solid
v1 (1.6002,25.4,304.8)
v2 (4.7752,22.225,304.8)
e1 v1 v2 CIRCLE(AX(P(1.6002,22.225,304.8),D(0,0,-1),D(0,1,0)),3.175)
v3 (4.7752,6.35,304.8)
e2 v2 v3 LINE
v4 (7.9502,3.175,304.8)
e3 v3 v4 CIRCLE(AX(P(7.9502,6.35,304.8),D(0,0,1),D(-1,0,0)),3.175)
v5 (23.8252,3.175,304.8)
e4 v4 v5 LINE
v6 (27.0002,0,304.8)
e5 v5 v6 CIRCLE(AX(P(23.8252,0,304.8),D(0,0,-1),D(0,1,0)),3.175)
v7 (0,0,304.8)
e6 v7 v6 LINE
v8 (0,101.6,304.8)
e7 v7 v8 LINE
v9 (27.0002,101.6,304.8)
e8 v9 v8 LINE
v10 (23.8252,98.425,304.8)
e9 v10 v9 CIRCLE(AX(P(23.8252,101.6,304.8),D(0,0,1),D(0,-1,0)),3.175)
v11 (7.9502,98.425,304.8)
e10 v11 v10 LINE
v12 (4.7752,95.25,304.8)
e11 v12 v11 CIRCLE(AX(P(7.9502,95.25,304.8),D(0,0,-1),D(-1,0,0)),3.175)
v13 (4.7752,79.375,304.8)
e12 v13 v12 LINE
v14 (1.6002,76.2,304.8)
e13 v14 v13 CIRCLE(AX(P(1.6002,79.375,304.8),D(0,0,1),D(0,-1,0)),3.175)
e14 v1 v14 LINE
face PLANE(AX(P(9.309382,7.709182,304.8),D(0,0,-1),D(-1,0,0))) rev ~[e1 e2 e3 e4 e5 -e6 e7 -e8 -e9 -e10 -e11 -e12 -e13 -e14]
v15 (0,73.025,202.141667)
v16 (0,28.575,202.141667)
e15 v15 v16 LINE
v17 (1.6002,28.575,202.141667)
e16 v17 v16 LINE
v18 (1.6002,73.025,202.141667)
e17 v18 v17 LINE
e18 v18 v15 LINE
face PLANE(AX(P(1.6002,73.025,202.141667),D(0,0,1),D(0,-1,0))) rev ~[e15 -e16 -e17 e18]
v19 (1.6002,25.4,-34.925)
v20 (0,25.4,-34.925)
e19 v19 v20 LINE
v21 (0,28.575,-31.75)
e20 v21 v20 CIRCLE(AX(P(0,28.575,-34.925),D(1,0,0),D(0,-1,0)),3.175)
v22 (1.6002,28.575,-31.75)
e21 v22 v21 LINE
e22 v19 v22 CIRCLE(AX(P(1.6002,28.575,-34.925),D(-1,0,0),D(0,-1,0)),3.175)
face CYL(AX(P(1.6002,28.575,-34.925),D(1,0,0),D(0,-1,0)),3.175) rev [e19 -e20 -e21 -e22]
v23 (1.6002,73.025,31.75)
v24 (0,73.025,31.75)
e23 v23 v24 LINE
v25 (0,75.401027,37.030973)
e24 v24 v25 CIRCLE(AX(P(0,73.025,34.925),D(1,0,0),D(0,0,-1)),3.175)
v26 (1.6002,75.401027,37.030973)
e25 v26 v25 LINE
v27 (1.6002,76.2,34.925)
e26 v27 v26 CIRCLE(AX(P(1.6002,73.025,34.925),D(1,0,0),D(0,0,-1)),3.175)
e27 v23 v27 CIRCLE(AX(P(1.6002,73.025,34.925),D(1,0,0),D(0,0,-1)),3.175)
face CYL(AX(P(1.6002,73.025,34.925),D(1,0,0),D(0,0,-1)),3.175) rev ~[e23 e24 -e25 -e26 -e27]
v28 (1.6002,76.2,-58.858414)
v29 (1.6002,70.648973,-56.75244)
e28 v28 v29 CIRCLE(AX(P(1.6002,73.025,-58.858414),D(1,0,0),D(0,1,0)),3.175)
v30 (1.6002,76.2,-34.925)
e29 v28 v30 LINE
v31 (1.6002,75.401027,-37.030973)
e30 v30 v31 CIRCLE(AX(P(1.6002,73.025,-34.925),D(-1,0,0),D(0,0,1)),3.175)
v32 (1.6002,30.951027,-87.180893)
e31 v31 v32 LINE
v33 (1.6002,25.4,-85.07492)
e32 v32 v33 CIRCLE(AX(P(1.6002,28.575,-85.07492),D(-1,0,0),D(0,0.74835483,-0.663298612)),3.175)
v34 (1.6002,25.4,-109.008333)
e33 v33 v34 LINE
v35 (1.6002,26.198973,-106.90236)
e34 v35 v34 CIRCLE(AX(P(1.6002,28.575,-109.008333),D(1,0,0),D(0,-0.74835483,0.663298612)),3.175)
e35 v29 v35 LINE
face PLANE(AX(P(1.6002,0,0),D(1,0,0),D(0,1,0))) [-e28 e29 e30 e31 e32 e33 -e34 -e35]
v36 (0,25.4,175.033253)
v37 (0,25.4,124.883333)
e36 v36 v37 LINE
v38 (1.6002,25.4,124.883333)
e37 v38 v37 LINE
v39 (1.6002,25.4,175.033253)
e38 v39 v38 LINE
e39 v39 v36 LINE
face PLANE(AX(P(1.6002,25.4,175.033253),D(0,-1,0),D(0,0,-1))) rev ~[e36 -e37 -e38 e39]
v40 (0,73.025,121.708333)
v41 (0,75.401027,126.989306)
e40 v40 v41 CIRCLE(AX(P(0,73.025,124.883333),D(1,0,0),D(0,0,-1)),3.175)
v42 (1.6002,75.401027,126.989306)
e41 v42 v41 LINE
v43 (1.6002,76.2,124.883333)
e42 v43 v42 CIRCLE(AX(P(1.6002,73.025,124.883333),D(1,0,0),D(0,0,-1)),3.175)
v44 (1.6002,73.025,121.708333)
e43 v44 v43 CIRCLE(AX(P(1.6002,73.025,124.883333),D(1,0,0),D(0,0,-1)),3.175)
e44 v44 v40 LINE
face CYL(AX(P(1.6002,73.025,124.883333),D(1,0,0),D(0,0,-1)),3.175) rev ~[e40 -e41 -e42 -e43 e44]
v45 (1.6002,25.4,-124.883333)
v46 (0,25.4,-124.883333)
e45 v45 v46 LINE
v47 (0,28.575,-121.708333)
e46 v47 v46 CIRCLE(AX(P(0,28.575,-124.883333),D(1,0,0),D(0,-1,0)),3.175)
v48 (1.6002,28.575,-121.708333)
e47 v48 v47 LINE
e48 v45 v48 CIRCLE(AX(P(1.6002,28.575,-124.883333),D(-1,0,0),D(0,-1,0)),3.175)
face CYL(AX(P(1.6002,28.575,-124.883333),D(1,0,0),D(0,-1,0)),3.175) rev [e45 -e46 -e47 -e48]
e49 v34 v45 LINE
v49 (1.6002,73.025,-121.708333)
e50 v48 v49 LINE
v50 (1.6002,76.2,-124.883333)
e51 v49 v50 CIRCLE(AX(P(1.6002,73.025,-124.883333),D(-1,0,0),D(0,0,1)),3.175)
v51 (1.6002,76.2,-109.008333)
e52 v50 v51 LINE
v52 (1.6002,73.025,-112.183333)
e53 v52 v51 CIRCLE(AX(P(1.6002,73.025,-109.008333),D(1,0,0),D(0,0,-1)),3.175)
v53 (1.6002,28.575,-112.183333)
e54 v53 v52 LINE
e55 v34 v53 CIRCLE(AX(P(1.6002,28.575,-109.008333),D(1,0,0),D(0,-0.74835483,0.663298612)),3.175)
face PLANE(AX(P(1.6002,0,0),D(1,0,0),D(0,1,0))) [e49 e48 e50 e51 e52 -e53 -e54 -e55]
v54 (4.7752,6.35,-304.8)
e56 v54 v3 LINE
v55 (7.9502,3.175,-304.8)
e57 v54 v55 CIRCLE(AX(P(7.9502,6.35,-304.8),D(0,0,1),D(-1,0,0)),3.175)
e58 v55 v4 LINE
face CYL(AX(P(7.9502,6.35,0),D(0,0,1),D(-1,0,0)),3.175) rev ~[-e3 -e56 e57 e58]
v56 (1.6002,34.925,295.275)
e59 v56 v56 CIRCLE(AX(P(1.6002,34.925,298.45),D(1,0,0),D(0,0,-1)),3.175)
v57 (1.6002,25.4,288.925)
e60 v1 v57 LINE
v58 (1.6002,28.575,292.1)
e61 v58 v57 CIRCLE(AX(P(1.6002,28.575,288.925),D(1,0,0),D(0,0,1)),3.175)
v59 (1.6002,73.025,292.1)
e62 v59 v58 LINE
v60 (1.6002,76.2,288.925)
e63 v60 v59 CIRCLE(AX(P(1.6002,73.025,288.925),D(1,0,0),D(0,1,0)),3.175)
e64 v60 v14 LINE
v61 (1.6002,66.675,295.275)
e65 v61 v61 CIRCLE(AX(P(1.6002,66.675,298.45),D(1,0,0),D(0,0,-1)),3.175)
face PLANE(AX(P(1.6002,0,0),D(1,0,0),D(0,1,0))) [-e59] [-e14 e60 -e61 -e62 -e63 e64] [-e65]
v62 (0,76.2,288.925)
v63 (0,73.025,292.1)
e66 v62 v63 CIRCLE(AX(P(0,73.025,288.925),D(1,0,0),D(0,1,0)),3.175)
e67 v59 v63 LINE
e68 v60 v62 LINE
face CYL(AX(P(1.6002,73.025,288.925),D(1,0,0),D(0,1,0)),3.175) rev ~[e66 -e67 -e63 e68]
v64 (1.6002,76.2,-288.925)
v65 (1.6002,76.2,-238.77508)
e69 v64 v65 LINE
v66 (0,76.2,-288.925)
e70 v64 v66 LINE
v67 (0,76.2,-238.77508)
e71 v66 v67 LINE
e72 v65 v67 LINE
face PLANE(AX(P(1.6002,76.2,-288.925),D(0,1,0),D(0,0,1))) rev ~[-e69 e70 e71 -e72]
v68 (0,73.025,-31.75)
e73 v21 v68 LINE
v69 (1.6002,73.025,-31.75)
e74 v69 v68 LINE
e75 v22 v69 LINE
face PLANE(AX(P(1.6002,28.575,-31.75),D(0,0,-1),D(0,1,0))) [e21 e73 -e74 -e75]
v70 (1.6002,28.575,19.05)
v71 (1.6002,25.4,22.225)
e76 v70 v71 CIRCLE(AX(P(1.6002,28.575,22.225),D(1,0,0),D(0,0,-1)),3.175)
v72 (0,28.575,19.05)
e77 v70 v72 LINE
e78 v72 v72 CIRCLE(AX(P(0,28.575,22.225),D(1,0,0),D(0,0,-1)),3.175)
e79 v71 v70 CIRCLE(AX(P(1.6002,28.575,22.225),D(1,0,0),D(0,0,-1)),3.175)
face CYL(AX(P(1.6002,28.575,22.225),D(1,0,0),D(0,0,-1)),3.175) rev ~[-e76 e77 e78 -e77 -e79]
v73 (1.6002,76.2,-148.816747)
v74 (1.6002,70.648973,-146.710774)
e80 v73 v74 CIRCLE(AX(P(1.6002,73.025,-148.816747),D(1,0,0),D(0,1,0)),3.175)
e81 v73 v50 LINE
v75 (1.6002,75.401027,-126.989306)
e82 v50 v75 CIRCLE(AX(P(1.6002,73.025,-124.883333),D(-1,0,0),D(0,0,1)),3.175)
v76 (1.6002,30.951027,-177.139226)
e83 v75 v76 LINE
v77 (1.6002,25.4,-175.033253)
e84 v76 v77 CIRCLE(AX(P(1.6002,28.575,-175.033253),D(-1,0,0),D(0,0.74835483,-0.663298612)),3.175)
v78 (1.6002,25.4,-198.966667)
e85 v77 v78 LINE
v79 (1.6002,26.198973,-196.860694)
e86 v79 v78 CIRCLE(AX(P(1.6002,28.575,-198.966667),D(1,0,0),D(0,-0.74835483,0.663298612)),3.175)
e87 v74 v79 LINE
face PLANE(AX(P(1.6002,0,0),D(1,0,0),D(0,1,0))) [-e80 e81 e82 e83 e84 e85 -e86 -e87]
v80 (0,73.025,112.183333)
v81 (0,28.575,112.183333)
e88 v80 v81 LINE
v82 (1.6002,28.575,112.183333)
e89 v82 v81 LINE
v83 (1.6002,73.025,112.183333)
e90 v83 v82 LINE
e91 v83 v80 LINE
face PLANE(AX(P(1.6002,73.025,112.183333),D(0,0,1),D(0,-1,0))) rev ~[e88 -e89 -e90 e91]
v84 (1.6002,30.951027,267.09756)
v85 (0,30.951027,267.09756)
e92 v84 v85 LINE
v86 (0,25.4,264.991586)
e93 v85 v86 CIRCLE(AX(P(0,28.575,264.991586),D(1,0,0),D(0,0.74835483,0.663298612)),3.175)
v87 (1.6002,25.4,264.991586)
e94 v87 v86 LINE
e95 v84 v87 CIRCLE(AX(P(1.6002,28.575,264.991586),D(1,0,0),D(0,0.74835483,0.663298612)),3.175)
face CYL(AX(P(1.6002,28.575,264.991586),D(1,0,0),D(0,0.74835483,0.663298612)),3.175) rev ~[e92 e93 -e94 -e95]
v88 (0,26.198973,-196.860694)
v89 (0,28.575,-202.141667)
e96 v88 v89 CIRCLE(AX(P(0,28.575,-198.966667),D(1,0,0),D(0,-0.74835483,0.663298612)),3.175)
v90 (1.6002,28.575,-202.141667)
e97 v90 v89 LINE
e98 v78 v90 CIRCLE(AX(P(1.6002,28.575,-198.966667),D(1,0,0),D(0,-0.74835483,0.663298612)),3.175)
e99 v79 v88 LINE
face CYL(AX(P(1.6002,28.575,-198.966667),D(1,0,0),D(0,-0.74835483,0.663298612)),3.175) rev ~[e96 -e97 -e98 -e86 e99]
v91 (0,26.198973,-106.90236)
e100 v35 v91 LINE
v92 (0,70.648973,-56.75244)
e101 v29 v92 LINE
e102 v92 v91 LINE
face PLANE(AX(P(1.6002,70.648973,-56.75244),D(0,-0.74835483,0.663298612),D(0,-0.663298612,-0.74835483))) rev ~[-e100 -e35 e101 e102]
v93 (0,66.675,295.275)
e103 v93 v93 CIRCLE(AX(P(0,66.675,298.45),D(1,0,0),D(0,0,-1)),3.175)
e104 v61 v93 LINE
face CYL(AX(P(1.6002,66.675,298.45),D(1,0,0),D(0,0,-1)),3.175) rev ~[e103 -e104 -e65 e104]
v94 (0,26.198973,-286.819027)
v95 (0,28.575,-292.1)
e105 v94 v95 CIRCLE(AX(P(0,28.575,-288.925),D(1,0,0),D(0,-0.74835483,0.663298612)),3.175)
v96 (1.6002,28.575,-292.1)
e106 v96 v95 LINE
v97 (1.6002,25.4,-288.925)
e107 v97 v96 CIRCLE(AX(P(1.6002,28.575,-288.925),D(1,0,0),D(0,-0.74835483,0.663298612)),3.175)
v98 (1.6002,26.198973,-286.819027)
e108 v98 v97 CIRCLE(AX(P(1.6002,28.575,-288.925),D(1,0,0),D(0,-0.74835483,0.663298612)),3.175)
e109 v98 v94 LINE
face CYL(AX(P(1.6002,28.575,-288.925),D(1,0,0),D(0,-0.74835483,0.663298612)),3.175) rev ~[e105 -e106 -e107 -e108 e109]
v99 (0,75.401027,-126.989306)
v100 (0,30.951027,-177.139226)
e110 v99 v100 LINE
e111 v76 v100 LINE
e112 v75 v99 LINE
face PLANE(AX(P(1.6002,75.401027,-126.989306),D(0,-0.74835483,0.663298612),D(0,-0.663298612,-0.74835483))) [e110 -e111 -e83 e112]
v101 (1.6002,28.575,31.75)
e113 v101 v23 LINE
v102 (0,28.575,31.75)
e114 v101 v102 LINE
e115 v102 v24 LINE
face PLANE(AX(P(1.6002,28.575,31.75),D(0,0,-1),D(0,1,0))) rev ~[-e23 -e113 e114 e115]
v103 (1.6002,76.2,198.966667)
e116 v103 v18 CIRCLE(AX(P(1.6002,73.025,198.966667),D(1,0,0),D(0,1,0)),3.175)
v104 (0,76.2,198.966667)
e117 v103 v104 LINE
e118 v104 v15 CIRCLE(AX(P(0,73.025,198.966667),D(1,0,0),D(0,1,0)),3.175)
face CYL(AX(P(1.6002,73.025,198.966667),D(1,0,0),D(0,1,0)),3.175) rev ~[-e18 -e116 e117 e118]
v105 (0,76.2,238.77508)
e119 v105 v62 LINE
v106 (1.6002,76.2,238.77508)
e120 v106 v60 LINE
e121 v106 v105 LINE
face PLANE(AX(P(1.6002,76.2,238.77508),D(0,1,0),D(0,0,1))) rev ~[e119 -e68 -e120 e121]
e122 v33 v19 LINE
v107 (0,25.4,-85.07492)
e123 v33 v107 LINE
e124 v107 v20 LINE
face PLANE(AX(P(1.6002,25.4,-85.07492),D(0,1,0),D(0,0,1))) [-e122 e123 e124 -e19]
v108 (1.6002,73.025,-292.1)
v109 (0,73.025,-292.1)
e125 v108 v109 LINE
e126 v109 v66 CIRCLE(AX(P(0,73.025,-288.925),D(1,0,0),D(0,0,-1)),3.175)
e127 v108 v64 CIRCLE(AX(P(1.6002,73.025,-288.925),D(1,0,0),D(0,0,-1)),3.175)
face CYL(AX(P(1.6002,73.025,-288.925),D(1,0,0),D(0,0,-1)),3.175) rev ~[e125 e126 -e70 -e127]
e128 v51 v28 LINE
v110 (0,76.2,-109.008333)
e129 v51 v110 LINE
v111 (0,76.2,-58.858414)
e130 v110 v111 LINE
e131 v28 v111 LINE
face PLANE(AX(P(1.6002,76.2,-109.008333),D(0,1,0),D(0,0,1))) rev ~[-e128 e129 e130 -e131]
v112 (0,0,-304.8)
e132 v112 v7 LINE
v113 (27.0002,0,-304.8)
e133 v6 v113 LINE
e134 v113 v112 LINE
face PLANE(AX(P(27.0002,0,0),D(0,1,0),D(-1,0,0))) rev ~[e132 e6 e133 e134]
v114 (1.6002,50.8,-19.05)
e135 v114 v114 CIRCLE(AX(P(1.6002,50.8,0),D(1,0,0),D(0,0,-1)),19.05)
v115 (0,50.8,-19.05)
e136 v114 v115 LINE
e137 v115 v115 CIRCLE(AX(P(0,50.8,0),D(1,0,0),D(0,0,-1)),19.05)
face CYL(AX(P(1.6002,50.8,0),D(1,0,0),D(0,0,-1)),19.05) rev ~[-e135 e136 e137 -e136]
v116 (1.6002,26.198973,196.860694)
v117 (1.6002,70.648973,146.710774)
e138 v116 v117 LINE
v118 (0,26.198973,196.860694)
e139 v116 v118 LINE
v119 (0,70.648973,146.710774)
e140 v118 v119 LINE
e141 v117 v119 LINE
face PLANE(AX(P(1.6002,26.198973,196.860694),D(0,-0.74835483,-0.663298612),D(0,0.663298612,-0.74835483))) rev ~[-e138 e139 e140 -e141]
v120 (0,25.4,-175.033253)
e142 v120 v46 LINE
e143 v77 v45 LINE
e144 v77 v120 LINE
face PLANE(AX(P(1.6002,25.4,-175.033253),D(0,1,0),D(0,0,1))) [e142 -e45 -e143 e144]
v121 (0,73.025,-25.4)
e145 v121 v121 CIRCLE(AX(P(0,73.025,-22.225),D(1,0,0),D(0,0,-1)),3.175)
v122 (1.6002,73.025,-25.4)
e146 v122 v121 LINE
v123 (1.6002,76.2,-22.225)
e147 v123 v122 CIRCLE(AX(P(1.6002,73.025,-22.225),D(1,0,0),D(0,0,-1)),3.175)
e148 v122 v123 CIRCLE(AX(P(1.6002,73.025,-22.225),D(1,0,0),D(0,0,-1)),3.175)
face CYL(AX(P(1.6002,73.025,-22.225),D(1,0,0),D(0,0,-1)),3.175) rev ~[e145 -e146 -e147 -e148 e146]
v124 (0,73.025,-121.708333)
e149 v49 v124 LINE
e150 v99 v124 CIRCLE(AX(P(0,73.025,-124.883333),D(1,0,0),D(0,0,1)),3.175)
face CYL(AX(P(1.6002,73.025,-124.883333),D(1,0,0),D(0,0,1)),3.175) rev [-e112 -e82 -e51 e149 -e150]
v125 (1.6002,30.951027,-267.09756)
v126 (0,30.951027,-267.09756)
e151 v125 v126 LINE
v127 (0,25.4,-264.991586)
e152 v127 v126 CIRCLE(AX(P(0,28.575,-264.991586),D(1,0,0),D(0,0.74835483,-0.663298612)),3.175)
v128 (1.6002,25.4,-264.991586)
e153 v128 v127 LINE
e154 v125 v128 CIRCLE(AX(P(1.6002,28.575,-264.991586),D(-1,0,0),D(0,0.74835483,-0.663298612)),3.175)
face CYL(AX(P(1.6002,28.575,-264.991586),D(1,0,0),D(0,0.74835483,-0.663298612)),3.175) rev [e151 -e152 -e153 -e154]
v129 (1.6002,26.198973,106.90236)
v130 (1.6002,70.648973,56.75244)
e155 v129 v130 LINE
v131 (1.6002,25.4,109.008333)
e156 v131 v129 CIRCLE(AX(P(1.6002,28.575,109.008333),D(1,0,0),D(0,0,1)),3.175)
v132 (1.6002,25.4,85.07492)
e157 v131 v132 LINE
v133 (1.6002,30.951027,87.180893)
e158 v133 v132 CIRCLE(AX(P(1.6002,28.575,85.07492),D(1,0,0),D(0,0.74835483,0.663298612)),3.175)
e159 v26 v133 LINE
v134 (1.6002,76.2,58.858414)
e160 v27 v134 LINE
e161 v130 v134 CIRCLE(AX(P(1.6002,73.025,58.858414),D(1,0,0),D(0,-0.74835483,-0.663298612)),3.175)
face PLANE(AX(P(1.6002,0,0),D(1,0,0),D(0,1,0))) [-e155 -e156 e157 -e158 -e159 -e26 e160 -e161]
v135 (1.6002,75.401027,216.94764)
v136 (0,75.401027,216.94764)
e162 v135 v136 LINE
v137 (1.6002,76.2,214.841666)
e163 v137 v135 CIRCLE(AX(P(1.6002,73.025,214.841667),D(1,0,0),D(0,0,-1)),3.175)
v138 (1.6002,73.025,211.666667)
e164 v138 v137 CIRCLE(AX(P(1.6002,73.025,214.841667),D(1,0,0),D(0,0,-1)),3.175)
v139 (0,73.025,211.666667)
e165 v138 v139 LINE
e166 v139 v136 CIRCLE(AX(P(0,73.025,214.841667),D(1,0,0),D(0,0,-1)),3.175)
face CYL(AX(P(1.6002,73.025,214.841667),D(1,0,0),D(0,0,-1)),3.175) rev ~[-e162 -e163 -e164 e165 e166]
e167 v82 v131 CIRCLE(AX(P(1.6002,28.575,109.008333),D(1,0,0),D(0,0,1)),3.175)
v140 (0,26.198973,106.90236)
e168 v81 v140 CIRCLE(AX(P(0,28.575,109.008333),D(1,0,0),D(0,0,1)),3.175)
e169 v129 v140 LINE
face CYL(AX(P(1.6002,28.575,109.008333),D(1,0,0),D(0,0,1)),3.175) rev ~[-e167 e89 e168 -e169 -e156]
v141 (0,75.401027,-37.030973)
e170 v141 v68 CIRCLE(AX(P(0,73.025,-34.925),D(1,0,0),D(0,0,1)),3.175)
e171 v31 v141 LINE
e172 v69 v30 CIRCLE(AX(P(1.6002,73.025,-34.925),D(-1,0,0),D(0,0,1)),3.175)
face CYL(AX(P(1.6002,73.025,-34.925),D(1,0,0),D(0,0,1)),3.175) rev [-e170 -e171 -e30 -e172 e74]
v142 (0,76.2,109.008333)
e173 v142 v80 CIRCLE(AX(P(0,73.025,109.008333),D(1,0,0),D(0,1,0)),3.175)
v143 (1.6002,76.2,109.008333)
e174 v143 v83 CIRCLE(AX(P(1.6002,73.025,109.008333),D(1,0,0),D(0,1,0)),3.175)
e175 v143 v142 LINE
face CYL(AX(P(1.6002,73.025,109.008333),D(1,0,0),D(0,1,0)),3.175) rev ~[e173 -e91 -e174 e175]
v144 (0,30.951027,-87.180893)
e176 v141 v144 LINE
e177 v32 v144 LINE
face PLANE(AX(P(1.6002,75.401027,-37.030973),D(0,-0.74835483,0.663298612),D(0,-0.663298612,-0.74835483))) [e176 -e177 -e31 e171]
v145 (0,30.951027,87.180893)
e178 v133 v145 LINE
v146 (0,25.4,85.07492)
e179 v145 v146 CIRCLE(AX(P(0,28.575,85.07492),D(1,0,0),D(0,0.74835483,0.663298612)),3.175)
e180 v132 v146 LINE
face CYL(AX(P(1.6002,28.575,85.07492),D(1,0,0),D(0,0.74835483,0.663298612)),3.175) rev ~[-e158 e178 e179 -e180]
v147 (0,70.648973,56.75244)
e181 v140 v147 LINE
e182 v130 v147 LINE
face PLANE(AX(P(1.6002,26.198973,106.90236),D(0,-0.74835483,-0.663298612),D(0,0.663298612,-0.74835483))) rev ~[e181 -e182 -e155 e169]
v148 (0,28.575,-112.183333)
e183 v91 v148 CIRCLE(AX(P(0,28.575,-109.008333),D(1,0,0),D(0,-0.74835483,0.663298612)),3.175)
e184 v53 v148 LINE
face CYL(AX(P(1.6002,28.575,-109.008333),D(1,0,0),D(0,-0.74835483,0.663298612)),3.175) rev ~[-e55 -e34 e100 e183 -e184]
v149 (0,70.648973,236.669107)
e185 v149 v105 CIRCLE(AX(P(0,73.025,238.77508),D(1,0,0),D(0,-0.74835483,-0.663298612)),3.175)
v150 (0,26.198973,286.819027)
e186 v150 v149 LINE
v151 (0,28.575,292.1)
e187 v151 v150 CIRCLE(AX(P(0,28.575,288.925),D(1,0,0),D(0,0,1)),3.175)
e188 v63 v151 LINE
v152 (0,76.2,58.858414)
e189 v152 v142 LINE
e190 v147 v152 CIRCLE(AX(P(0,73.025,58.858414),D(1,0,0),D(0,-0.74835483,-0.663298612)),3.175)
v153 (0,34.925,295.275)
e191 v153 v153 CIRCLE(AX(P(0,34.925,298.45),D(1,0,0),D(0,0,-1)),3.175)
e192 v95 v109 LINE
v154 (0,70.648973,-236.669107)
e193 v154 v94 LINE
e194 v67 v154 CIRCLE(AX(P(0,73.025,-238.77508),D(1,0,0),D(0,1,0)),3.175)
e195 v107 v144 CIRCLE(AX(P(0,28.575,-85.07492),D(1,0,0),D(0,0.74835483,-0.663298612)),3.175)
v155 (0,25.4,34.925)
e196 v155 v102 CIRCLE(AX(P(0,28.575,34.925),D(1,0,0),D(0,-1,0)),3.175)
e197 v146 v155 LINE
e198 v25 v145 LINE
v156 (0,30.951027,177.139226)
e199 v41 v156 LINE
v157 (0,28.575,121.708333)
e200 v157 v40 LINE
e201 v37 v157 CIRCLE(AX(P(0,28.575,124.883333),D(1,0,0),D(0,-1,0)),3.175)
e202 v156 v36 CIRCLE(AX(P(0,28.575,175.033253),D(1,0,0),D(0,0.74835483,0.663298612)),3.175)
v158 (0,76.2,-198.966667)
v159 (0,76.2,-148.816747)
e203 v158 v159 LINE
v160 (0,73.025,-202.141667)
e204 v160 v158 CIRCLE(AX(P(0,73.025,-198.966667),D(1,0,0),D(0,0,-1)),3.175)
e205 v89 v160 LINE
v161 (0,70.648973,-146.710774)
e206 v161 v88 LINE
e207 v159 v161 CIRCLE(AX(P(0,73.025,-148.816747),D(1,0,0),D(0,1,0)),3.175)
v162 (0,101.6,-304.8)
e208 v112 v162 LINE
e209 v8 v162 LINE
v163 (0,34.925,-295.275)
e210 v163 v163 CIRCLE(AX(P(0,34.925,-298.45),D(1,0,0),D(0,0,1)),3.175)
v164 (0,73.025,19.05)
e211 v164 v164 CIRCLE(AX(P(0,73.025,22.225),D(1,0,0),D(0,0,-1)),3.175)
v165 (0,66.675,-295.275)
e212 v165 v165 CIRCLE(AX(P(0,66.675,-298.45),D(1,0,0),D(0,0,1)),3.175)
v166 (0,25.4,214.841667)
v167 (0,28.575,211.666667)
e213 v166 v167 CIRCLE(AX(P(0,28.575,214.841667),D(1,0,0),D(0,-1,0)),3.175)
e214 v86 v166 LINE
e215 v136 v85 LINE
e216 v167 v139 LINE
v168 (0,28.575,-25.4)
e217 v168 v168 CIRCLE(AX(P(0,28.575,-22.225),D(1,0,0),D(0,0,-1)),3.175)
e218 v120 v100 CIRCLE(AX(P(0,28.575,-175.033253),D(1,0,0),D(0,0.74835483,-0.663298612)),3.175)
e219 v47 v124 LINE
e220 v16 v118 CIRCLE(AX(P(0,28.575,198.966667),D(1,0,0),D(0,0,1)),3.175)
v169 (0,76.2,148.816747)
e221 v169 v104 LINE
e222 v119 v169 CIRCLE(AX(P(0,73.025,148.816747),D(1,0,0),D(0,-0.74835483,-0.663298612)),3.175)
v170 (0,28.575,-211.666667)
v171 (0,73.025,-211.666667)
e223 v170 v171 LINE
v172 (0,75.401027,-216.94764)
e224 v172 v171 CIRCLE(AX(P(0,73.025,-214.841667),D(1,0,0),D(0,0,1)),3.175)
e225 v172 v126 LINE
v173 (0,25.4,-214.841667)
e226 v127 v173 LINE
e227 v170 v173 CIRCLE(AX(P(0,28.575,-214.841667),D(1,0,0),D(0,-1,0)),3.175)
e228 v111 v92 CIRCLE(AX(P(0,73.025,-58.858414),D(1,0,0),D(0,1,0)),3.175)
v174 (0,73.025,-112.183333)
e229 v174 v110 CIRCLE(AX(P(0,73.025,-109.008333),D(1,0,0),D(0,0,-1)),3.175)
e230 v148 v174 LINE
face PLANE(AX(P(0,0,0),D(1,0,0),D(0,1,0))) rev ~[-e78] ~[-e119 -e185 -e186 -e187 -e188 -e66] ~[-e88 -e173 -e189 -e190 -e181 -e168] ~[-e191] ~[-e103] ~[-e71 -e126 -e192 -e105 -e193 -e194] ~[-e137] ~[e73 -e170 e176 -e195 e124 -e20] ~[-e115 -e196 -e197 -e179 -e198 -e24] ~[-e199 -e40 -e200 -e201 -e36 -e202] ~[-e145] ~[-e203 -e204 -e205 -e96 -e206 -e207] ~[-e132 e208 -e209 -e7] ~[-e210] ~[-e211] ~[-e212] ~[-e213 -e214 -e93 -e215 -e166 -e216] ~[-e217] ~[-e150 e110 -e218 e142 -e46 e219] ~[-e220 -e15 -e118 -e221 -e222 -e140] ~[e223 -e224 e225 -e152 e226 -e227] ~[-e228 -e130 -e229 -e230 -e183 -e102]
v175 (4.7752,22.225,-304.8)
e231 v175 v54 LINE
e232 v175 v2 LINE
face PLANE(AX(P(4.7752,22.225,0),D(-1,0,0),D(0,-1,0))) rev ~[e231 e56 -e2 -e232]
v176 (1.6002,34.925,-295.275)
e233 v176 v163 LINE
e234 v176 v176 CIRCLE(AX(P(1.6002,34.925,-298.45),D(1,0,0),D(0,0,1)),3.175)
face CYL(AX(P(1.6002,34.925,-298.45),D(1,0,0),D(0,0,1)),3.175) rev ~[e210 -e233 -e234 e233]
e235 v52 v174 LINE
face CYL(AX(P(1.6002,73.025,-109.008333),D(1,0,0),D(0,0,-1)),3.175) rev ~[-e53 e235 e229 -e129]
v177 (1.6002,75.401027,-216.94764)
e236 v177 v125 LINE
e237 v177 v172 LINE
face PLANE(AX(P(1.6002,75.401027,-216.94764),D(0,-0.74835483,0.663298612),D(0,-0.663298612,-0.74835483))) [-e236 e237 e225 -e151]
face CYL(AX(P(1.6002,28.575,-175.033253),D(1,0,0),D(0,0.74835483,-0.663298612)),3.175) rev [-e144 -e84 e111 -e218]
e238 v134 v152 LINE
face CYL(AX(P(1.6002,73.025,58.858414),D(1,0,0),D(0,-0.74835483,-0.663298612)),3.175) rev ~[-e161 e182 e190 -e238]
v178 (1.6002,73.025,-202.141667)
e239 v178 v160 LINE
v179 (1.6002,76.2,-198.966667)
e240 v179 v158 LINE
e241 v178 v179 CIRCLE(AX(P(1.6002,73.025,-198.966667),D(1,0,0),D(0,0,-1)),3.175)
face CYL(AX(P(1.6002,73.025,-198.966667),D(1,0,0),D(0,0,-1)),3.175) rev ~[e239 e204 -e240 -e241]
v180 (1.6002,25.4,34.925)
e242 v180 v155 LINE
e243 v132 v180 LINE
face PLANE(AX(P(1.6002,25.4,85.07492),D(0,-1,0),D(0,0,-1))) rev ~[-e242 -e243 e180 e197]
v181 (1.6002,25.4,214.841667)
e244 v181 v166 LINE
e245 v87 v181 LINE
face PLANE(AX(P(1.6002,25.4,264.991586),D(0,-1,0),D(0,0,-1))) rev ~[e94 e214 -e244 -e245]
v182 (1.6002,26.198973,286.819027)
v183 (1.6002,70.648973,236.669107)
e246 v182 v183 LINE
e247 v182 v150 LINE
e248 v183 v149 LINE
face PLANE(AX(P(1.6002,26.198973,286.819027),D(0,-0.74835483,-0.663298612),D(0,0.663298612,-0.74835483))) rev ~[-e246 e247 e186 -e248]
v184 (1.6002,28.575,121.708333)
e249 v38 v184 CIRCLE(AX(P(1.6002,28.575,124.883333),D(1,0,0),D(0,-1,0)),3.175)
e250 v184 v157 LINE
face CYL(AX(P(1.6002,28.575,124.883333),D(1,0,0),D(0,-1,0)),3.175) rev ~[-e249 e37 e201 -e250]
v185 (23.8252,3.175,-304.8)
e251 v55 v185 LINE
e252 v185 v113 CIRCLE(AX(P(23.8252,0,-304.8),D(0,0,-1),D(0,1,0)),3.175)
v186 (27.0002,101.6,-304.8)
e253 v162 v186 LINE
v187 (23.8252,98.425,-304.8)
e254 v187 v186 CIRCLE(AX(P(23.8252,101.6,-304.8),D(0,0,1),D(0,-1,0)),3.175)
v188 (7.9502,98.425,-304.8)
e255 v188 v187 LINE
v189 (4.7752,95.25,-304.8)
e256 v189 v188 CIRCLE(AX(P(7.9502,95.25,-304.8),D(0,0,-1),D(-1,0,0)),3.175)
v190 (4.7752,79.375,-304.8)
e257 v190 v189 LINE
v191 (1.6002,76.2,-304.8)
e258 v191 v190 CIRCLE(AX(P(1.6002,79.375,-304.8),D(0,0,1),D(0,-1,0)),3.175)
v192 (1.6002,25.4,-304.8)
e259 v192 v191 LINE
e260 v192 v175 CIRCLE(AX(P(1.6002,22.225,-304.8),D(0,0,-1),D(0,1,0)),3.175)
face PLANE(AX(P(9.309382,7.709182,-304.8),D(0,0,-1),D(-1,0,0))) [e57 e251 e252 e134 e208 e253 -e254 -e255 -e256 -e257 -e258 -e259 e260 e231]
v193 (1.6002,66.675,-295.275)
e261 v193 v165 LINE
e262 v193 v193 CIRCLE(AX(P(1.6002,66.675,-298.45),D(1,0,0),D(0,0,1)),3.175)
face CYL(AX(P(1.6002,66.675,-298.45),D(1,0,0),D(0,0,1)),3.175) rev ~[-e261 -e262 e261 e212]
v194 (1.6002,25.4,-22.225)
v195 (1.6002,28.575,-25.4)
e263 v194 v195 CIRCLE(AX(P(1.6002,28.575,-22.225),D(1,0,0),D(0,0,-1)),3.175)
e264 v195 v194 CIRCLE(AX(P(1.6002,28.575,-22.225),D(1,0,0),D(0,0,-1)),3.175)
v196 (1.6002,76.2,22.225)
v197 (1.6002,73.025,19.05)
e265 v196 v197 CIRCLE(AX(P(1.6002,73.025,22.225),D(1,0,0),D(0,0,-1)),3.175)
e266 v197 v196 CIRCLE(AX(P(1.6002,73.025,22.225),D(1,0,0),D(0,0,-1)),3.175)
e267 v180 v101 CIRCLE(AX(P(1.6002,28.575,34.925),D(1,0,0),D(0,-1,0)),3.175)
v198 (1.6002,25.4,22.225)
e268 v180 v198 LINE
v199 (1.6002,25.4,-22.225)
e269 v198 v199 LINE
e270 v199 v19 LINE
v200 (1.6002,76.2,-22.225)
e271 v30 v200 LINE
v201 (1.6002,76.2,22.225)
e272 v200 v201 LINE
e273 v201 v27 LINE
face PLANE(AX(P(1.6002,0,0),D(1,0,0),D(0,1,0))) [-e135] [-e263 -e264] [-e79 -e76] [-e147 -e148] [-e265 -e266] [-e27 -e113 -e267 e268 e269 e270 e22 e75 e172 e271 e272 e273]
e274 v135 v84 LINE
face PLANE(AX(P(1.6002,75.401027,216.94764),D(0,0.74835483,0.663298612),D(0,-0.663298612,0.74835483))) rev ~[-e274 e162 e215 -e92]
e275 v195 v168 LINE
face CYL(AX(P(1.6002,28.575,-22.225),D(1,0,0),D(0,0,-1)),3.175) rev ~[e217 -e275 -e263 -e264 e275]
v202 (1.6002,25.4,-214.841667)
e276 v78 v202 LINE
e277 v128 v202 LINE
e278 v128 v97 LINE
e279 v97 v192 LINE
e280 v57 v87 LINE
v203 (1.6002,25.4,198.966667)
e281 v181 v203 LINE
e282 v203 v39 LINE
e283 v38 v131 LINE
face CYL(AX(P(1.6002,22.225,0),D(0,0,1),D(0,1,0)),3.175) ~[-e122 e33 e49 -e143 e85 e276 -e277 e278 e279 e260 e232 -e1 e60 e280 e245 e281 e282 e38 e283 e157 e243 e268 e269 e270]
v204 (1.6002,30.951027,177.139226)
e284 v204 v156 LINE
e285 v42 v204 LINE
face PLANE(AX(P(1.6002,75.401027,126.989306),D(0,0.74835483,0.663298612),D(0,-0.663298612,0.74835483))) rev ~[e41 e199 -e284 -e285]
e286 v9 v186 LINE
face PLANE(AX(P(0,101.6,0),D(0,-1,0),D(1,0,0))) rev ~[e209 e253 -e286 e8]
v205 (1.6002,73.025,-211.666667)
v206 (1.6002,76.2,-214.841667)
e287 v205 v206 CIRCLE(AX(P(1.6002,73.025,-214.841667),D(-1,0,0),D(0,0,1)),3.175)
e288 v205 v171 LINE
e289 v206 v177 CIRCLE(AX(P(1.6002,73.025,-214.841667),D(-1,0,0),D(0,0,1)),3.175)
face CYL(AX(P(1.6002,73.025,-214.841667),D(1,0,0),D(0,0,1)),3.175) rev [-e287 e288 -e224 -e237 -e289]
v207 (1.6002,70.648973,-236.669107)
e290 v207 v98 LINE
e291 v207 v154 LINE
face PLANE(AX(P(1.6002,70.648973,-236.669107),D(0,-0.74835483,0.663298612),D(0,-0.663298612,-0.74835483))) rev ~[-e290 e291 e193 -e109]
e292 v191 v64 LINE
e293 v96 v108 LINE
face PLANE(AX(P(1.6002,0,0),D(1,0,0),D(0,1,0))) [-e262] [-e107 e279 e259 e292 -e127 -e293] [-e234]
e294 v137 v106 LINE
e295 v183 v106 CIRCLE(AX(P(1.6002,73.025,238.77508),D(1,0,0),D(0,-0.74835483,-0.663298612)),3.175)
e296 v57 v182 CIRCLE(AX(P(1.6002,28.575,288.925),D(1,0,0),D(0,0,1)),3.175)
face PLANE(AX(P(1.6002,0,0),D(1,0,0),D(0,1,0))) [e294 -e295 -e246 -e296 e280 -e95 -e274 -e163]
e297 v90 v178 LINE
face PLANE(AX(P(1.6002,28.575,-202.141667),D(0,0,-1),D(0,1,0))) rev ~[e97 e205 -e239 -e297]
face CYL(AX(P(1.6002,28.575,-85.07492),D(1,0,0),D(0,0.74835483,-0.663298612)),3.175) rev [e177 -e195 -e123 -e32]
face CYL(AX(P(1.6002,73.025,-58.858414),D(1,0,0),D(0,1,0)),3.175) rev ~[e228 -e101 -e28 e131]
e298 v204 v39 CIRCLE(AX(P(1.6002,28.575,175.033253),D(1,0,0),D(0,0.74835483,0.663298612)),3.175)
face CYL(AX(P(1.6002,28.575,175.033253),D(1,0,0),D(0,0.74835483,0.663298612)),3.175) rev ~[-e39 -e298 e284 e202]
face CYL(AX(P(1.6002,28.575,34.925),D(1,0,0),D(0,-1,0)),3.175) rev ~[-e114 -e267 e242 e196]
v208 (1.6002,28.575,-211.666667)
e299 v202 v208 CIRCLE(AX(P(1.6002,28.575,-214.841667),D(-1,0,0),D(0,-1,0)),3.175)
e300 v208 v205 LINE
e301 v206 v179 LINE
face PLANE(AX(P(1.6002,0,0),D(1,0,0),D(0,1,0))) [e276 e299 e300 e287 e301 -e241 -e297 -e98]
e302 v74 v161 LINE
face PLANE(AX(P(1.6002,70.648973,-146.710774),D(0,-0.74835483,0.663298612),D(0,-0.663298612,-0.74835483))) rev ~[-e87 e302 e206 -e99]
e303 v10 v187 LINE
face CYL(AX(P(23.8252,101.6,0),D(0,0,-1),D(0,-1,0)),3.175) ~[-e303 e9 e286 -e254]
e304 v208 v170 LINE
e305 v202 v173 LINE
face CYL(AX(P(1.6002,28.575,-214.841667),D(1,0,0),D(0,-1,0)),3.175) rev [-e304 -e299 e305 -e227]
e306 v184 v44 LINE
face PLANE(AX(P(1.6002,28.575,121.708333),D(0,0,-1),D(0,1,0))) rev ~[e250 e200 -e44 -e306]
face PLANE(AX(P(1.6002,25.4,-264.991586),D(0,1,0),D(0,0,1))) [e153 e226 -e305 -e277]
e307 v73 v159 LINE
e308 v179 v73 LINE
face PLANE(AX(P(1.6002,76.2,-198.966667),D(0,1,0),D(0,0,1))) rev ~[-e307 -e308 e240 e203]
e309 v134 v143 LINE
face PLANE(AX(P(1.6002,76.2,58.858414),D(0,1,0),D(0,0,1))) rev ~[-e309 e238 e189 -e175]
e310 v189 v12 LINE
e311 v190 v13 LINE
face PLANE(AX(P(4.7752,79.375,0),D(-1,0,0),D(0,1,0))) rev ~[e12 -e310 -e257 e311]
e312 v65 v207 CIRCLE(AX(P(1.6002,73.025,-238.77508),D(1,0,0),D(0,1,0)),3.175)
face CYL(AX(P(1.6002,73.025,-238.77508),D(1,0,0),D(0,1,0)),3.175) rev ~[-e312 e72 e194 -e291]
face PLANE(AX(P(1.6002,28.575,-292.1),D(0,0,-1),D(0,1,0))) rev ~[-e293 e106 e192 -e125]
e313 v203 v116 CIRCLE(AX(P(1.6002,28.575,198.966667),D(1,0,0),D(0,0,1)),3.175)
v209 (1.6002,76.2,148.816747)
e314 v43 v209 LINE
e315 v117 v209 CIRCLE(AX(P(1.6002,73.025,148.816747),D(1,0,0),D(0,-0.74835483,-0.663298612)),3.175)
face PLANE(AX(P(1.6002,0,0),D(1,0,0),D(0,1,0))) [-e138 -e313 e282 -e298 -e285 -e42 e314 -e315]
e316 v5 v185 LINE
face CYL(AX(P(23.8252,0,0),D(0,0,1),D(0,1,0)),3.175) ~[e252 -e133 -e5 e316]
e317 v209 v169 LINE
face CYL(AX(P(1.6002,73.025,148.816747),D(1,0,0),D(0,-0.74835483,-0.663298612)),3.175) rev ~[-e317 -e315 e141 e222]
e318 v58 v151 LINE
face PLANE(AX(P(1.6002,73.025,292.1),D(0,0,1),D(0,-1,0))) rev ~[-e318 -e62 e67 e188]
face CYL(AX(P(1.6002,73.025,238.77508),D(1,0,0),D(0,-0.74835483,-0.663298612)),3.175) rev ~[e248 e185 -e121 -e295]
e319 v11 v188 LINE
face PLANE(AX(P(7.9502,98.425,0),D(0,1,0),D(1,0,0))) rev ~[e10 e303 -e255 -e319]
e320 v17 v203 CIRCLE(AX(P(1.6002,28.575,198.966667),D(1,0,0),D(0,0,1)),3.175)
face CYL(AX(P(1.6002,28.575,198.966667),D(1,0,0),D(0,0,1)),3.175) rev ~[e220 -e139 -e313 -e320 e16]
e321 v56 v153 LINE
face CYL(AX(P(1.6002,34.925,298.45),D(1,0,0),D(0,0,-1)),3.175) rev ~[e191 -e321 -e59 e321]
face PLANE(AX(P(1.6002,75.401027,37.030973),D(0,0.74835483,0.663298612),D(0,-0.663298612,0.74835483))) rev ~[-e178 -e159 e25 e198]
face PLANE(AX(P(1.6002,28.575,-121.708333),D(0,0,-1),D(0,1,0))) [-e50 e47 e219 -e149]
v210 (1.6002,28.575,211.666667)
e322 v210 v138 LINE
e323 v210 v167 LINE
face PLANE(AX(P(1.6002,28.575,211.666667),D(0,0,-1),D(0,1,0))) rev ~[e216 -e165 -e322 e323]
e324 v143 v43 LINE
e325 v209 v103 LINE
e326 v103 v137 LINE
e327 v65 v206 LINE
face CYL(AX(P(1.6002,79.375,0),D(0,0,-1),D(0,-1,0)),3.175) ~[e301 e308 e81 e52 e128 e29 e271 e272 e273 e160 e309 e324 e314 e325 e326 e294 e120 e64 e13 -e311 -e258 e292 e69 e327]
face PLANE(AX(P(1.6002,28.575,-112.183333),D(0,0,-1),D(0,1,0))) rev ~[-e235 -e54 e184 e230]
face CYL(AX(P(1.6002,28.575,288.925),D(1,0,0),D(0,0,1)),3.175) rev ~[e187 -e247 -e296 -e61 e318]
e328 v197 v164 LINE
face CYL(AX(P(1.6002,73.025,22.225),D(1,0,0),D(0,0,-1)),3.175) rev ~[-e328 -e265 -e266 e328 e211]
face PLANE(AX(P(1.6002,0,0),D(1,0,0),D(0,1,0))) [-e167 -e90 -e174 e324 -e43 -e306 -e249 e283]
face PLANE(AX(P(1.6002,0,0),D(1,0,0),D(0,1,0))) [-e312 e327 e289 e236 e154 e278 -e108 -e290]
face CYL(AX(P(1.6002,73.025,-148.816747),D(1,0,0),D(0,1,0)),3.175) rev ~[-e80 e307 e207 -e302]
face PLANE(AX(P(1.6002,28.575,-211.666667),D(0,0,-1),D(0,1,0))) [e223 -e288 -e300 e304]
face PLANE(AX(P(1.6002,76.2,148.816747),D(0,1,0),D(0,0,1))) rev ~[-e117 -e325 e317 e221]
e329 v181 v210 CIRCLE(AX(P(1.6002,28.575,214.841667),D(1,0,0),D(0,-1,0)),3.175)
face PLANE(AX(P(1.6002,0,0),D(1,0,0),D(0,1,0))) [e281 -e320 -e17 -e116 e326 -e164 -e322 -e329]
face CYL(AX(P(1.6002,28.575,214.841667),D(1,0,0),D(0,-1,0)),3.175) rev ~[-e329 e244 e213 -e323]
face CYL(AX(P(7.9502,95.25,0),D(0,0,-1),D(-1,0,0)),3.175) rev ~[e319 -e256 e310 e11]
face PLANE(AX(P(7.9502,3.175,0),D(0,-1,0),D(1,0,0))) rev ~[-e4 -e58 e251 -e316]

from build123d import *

# Parameters (mm, degrees)
SKETCH1_W           = 1.6002
SKETCH1_H           = 101.6
BOSS_EXTRUDE1_DEPTH = 304.8
BOSS_EXTRUDE2_DEPTH = 304.8
SKETCH3_R           = 19.05
CUT_EXTRUDE1_DEPTH  = 323.289869527
SKETCH4_R           = 3.175
CUT_EXTRUDE2_DEPTH  = 323.289869527
SKETCH5_R           = 3.175
CUT_EXTRUDE3_DEPTH  = 323.289869527


with BuildPart() as part:
    # Sketch1 → Boss-Extrude1 (new, symmetric)
    with BuildSketch(Plane.XY):
        with Locations((0.8001, 50.8)):
            Rectangle(SKETCH1_W, SKETCH1_H)
    extrude(amount=BOSS_EXTRUDE1_DEPTH, both=True)

    # Sketch2 → Boss-Extrude2 (add, symmetric)
    with BuildSketch(Plane.XY):
        with BuildLine():
            Line((27.0002, 101.6), (1.6002, 101.6))
            Line((1.6002, 101.6), (1.6002, 76.2))
            ThreePointArc((1.6002, 76.2), (3.84526403, 77.12993597), (4.7752, 79.375))
            Line((4.7752, 79.375), (4.7752, 95.25))
            ThreePointArc((4.7752, 95.25), (5.70513597, 97.49506403), (7.9502, 98.425))
            Line((7.9502, 98.425), (23.8252, 98.425))
            ThreePointArc((23.8252, 98.425), (26.07026403, 99.35493597), (27.0002, 101.6))
        make_face()
        with BuildLine():
            Line((7.9502, 3.175), (23.8252, 3.175))
            ThreePointArc((23.8252, 3.175), (26.07026403, 2.24506403), (27.0002, 0))
            Line((27.0002, 0), (1.6002, 0))
            Line((1.6002, 0), (1.6002, 25.4))
            ThreePointArc((1.6002, 25.4), (3.84526403, 24.47006403), (4.7752, 22.225))
            Line((4.7752, 22.225), (4.7752, 6.35))
            ThreePointArc((4.7752, 6.35), (5.70513597, 4.10493597), (7.9502, 3.175))
        make_face()
    extrude(amount=BOSS_EXTRUDE2_DEPTH, both=True)

    # Sketch3 → Cut-Extrude1 (cut, through all)
    with BuildSketch(Plane(origin=(1.6002, 0, 0), x_dir=(0, 0, -1), z_dir=(1, 0, 0))):
        with Locations((0, 50.8)):
            Circle(SKETCH3_R)
        with BuildLine():
            Line((-292.1, 73.025), (-292.1, 28.575))
            ThreePointArc((-292.1, 28.575), (-290.227720313, 25.679564837), (-286.819026907, 26.198973416))
            Line((-286.819026907, 26.198973416), (-236.669107137, 70.648973416))
            ThreePointArc((-236.669107137, 70.648973416), (-235.806536024, 74.151219471), (-238.77508023, 76.2))
            Line((-238.77508023, 76.2), (-288.925, 76.2))
            ThreePointArc((-288.925, 76.2), (-291.17006403, 75.27006403), (-292.1, 73.025))
        make_face()
        with BuildLine():
            Line((-264.991586436, 25.4), (-214.841666667, 25.4))
            ThreePointArc((-214.841666667, 25.4), (-212.596602636, 26.32993597), (-211.666666667, 28.575))
            Line((-211.666666667, 28.575), (-211.666666667, 73.025))
            ThreePointArc((-211.666666667, 73.025), (-213.538946354, 75.920435163), (-216.94763976, 75.401026584))
            Line((-216.94763976, 75.401026584), (-267.09755953, 30.951026584))
            ThreePointArc((-267.09755953, 30.951026584), (-267.960130642, 27.448780529), (-264.991586436, 25.4))
        make_face()
        with BuildLine():
            Line((-202.141666667, 73.025), (-202.141666667, 28.575))
            ThreePointArc((-202.141666667, 28.575), (-200.26938698, 25.679564837), (-196.860693573, 26.198973416))
            Line((-196.860693573, 26.198973416), (-146.710773804, 70.648973416))
            ThreePointArc((-146.710773804, 70.648973416), (-145.848202691, 74.151219471), (-148.816746897, 76.2))
            Line((-148.816746897, 76.2), (-198.966666667, 76.2))
            ThreePointArc((-198.966666667, 76.2), (-201.211730697, 75.27006403), (-202.141666667, 73.025))
        make_face()
        with BuildLine():
            Line((-126.989306427, 75.401026584), (-177.139226196, 30.951026584))
            ThreePointArc((-177.139226196, 30.951026584), (-178.001797309, 27.448780529), (-175.033253103, 25.4))
            Line((-175.033253103, 25.4), (-124.883333333, 25.4))
            ThreePointArc((-124.883333333, 25.4), (-122.638269303, 26.32993597), (-121.708333333, 28.575))
            Line((-121.708333333, 28.575), (-121.708333333, 73.025))
            ThreePointArc((-121.708333333, 73.025), (-123.58061302, 75.920435163), (-126.989306427, 75.401026584))
        make_face()
        with BuildLine():
            Line((-112.183333333, 73.025), (-112.183333333, 28.575))
            ThreePointArc((-112.183333333, 28.575), (-110.311053646, 25.679564837), (-106.90236024, 26.198973416))
            Line((-106.90236024, 26.198973416), (-56.75244047, 70.648973416))
            ThreePointArc((-56.75244047, 70.648973416), (-55.889869358, 74.151219471), (-58.858413564, 76.2))
            Line((-58.858413564, 76.2), (-109.008333333, 76.2))
            ThreePointArc((-109.008333333, 76.2), (-111.253397364, 75.27006403), (-112.183333333, 73.025))
        make_face()
        with BuildLine():
            Line((-37.030973093, 75.401026584), (-87.180892863, 30.951026584))
            ThreePointArc((-87.180892863, 30.951026584), (-88.043463976, 27.448780529), (-85.07491977, 25.4))
            Line((-85.07491977, 25.4), (-34.925, 25.4))
            ThreePointArc((-34.925, 25.4), (-32.67993597, 26.32993597), (-31.75, 28.575))
            Line((-31.75, 28.575), (-31.75, 73.025))
            ThreePointArc((-31.75, 73.025), (-33.622279687, 75.920435163), (-37.030973093, 75.401026584))
        make_face()
        with BuildLine():
            Line((85.07491977, 25.4), (34.925, 25.4))
            ThreePointArc((34.925, 25.4), (32.67993597, 26.32993597), (31.75, 28.575))
            Line((31.75, 28.575), (31.75, 73.025))
            ThreePointArc((31.75, 73.025), (33.622279687, 75.920435163), (37.030973093, 75.401026584))
            Line((37.030973093, 75.401026584), (87.180892863, 30.951026584))
            ThreePointArc((87.180892863, 30.951026584), (88.043463976, 27.448780529), (85.07491977, 25.4))
        make_face()
        with BuildLine():
            Line((56.75244047, 70.648973416), (106.90236024, 26.198973416))
            ThreePointArc((106.90236024, 26.198973416), (110.311053646, 25.679564837), (112.183333333, 28.575))
            Line((112.183333333, 28.575), (112.183333333, 73.025))
            ThreePointArc((112.183333333, 73.025), (111.253397364, 75.27006403), (109.008333333, 76.2))
            Line((109.008333333, 76.2), (58.858413564, 76.2))
            ThreePointArc((58.858413564, 76.2), (55.889869358, 74.151219471), (56.75244047, 70.648973416))
        make_face()
        with BuildLine():
            Line((175.033253103, 25.4), (124.883333333, 25.4))
            ThreePointArc((124.883333333, 25.4), (122.638269303, 26.32993597), (121.708333333, 28.575))
            Line((121.708333333, 28.575), (121.708333333, 73.025))
            ThreePointArc((121.708333333, 73.025), (123.58061302, 75.920435163), (126.989306427, 75.401026584))
            Line((126.989306427, 75.401026584), (177.139226196, 30.951026584))
            ThreePointArc((177.139226196, 30.951026584), (178.001797309, 27.448780529), (175.033253103, 25.4))
        make_face()
        with BuildLine():
            Line((146.710773804, 70.648973416), (196.860693573, 26.198973416))
            ThreePointArc((196.860693573, 26.198973416), (200.26938698, 25.679564837), (202.141666667, 28.575))
            Line((202.141666667, 28.575), (202.141666667, 73.025))
            ThreePointArc((202.141666667, 73.025), (201.211730697, 75.27006403), (198.966666667, 76.2))
            Line((198.966666667, 76.2), (148.816746897, 76.2))
            ThreePointArc((148.816746897, 76.2), (145.848202691, 74.151219471), (146.710773804, 70.648973416))
        make_face()
        with BuildLine():
            Line((216.94763976, 75.401026584), (267.09755953, 30.951026584))
            ThreePointArc((267.09755953, 30.951026584), (267.960130642, 27.448780529), (264.991586436, 25.4))
            Line((264.991586436, 25.4), (214.841666667, 25.4))
            ThreePointArc((214.841666667, 25.4), (212.596602636, 26.32993597), (211.666666667, 28.575))
            Line((211.666666667, 28.575), (211.666666667, 73.025))
            ThreePointArc((211.666666667, 73.025), (213.538946354, 75.920435163), (216.94763976, 75.401026584))
        make_face()
        with BuildLine():
            Line((236.669107137, 70.648973416), (286.819026907, 26.198973416))
            ThreePointArc((286.819026907, 26.198973416), (290.227720313, 25.679564837), (292.1, 28.575))
            Line((292.1, 28.575), (292.1, 73.025))
            ThreePointArc((292.1, 73.025), (291.17006403, 75.27006403), (288.925, 76.2))
            Line((288.925, 76.2), (238.77508023, 76.2))
            ThreePointArc((238.77508023, 76.2), (235.806536024, 74.151219471), (236.669107137, 70.648973416))
        make_face()
    extrude(amount=-CUT_EXTRUDE1_DEPTH, mode=Mode.SUBTRACT)

    # Sketch4 → Cut-Extrude2 (cut, through all)
    with BuildSketch(Plane(origin=(1.6002, 0, 0), x_dir=(0, 0, -1), z_dir=(1, 0, 0))):
        with Locations((-22.225, 73.025)):
            Circle(SKETCH4_R)
        with Locations((22.225, 73.025)):
            Circle(SKETCH4_R)
        with Locations((22.225, 28.575)):
            Circle(SKETCH4_R)
        with Locations((-22.225, 28.575)):
            Circle(SKETCH4_R)
    extrude(amount=-CUT_EXTRUDE2_DEPTH, mode=Mode.SUBTRACT)

    # Sketch5 → Cut-Extrude3 (cut, through all)
    with BuildSketch(Plane(origin=(1.6002, 0, 0), x_dir=(0, 0, -1), z_dir=(1, 0, 0))):
        with Locations((-298.45, 66.675)):
            Circle(SKETCH5_R)
        with Locations((-298.45, 34.925)):
            Circle(SKETCH5_R)
        with Locations(Location((298.45, 34.925, 0), (0, 0, 180))):
            Circle(SKETCH5_R)
        with Locations(Location((298.45, 66.675, 0), (0, 0, 180))):
            Circle(SKETCH5_R)
    extrude(amount=-CUT_EXTRUDE3_DEPTH, mode=Mode.SUBTRACT)


solid = part.part
